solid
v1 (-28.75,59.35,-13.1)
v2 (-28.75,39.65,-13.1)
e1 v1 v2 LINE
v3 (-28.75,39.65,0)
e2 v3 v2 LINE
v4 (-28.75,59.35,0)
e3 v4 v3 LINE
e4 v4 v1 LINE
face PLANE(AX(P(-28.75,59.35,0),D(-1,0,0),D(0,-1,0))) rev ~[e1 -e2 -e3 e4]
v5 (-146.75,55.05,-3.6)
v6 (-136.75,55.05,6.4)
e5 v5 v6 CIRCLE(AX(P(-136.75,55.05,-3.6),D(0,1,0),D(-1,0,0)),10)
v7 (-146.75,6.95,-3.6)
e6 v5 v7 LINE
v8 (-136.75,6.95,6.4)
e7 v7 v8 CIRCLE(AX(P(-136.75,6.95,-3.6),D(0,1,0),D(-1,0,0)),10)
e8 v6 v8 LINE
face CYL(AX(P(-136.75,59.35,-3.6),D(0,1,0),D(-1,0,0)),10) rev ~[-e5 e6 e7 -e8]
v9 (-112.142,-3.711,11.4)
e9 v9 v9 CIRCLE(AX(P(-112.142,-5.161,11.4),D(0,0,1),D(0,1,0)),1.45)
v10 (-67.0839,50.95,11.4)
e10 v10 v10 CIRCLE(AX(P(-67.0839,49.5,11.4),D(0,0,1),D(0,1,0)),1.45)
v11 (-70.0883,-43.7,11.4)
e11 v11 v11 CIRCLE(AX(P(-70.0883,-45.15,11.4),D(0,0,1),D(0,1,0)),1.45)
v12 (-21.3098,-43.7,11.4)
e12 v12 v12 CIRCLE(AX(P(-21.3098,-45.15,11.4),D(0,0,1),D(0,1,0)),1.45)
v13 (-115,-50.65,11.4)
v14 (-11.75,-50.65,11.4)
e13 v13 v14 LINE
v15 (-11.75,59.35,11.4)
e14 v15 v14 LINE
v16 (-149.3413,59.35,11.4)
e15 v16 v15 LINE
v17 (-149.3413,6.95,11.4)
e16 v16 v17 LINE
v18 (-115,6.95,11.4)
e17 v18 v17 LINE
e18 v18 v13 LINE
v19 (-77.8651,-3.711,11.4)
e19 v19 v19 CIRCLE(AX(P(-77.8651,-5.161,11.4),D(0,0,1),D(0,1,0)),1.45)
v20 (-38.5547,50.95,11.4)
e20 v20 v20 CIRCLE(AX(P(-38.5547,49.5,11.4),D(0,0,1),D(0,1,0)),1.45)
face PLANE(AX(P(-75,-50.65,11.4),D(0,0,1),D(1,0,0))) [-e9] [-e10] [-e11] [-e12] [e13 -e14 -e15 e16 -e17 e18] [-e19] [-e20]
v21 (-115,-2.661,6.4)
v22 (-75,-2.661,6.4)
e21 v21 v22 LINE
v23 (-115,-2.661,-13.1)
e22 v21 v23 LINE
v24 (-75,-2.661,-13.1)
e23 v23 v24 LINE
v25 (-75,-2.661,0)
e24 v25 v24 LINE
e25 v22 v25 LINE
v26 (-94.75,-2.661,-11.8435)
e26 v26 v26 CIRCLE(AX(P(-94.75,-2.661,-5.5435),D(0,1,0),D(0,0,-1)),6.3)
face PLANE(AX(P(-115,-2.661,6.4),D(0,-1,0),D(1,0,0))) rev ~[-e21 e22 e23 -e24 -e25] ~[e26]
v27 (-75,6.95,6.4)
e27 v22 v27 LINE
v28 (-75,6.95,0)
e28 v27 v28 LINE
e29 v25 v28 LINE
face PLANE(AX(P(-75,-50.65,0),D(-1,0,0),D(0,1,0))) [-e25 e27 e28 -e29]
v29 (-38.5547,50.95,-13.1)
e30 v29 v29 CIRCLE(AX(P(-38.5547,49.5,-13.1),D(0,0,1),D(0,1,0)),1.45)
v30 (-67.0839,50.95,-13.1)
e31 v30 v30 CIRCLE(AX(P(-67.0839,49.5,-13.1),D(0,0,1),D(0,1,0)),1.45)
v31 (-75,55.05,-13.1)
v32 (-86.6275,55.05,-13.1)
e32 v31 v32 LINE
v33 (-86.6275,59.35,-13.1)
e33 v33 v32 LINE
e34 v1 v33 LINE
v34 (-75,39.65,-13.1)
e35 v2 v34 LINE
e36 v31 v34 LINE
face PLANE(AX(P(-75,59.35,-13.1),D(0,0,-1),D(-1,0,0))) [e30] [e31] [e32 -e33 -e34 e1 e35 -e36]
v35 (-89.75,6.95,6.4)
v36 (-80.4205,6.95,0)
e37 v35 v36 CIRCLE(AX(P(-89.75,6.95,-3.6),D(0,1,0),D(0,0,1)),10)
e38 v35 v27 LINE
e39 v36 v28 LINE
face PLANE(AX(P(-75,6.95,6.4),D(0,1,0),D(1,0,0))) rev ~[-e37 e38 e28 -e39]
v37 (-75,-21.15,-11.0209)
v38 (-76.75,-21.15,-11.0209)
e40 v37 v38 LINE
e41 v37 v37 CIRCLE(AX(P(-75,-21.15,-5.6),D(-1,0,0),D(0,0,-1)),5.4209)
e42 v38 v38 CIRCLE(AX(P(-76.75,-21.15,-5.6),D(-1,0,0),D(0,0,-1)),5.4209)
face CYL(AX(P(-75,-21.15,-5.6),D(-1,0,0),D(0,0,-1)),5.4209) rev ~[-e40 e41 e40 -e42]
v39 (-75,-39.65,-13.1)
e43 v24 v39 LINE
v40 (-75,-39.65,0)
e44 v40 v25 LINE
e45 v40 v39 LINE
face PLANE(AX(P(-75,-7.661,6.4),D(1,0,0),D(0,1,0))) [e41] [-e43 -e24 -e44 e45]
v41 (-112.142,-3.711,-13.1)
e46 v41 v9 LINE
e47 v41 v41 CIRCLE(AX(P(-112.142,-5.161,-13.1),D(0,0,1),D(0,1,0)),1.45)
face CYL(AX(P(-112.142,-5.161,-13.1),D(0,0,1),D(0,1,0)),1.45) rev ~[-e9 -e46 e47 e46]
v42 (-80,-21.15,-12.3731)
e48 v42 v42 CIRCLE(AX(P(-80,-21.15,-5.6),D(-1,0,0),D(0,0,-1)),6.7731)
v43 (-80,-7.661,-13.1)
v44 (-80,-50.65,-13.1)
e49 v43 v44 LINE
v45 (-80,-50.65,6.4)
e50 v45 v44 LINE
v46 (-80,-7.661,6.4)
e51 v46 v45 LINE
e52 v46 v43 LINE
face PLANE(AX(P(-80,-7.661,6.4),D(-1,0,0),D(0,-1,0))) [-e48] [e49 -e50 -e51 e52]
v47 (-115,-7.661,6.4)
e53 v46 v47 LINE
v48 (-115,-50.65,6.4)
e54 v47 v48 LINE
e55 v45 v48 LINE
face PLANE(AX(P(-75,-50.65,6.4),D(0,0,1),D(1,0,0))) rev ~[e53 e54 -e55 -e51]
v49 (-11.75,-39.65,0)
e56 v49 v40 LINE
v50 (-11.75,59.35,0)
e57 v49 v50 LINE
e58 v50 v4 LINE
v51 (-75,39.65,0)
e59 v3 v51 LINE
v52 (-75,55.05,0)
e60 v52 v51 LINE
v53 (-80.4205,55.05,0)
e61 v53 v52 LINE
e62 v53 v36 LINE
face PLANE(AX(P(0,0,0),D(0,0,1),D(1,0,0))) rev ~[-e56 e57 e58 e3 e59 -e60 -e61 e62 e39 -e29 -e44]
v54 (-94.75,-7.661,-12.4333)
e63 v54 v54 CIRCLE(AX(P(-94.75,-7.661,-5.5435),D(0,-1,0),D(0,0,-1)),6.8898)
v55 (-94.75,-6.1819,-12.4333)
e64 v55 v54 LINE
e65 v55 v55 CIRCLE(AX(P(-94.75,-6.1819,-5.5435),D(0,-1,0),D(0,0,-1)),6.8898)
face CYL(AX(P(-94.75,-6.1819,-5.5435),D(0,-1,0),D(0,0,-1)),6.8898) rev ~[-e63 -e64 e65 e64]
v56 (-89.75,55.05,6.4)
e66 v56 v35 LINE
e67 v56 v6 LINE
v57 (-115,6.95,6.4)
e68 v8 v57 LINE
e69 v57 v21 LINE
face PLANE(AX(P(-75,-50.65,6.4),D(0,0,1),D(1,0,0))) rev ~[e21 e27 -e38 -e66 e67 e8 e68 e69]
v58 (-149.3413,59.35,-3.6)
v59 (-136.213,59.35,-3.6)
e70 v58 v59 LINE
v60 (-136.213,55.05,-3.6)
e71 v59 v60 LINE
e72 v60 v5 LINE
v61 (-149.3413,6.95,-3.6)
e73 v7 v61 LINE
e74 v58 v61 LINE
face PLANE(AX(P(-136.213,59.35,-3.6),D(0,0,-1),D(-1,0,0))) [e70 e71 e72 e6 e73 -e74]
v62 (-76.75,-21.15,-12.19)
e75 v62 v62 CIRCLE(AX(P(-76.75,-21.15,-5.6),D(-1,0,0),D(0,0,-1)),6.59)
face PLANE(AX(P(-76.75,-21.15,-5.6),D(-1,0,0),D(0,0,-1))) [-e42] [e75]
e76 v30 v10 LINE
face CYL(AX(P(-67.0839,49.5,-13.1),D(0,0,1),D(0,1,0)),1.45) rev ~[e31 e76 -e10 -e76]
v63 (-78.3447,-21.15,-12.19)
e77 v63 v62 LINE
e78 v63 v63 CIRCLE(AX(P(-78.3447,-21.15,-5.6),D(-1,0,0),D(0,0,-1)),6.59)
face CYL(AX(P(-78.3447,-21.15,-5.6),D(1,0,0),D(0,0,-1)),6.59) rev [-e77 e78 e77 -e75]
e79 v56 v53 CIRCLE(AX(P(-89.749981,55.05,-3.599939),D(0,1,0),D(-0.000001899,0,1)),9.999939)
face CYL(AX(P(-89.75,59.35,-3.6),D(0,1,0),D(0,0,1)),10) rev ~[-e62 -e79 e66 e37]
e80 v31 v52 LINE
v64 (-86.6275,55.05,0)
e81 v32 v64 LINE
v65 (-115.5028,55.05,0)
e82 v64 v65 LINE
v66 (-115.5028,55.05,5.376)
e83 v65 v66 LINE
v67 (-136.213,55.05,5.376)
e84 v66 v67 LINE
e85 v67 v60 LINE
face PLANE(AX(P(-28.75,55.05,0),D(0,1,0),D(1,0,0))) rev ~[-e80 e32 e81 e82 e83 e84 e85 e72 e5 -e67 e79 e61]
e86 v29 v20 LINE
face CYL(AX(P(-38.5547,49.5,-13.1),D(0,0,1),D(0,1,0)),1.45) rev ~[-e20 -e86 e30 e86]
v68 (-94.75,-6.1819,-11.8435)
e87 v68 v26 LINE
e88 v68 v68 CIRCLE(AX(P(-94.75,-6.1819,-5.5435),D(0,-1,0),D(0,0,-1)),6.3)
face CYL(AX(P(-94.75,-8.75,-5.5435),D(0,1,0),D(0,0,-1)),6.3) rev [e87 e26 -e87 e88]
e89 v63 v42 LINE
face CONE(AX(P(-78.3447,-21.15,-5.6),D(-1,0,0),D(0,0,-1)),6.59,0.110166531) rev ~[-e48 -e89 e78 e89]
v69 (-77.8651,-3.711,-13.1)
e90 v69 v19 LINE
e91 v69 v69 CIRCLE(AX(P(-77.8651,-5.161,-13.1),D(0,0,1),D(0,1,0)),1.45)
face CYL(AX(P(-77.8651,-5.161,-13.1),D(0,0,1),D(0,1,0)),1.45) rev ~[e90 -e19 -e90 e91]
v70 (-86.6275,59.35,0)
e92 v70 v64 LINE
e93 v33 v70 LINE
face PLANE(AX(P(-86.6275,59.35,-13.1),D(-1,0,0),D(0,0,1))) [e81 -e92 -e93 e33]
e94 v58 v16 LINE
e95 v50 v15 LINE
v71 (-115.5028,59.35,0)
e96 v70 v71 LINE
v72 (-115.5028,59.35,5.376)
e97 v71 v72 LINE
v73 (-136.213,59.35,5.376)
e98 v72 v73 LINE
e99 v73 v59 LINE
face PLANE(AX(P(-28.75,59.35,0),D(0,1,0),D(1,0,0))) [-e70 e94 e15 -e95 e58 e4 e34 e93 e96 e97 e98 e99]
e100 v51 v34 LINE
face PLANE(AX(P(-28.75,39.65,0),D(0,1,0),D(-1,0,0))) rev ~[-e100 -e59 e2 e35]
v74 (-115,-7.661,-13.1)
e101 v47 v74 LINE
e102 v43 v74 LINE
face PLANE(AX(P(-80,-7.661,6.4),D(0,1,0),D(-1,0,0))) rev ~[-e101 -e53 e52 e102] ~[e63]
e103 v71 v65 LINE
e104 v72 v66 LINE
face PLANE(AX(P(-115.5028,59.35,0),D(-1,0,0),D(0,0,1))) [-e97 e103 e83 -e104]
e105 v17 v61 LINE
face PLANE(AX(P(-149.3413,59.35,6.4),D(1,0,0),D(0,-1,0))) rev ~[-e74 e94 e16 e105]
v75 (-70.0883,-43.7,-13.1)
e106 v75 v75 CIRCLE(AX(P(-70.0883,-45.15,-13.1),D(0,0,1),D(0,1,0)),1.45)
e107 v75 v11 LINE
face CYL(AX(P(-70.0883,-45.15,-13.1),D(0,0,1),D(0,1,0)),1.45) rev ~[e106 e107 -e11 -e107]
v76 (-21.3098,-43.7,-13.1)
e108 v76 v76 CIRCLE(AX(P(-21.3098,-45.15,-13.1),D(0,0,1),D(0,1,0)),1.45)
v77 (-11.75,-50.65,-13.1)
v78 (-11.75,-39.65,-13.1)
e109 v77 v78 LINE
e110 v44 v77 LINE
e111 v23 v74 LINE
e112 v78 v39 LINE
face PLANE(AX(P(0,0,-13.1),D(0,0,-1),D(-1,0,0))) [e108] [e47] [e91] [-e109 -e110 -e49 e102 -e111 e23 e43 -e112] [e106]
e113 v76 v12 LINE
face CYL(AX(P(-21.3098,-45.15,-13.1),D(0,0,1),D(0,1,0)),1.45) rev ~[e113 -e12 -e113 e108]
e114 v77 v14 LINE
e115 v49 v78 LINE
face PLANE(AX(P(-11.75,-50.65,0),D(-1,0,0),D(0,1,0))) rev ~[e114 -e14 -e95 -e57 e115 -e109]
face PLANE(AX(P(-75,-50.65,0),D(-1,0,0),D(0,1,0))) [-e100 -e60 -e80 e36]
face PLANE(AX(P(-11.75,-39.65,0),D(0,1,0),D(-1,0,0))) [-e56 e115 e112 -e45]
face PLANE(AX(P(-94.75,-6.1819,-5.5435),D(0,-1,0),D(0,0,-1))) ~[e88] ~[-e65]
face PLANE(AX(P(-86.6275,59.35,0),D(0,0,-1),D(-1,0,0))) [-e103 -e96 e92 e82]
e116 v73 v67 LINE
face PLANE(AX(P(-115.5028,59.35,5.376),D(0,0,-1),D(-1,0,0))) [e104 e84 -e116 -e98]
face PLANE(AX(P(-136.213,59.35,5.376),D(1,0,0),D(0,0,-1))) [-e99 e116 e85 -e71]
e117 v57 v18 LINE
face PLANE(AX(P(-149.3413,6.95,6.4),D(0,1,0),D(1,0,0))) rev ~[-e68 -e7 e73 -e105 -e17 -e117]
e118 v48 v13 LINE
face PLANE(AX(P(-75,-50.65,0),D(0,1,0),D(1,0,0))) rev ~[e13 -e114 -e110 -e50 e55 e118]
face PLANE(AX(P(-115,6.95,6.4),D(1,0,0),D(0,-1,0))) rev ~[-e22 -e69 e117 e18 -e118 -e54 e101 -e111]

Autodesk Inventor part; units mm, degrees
ref_plane "Work Plane1" through (0, 0, 0) normal (0, 0, 1) x (1, 0, 0)
sketch "Sketch1" plane through (0, 0, 0) normal (0, 0, 1) x (1, 0, 0)
  line L0 (73, -36.65) -> (-73, -36.65) construction
  line L1 (73, 36.65) -> (73, -36.65) construction
  line L2 (-73, 36.65) -> (73, 36.65) construction
  line L3 (-73, -36.65) -> (-73, 36.65) construction
  line L4 (-66.8632, 12.8749) -> (-66.8632, 14.232) construction
  line L5 (-66.8632, 14.232) -> (-61.4969, 10.9795) construction
  line L6 (-61.4969, 10.9795) -> (-57.2382, 10.9795) construction
  line L7 (-57.2382, 10.9795) -> (-57.2382, 9.7003) construction
  line L8 (-57.2382, 9.7003) -> (-61.3643, 9.7003) construction
  line L9 (-61.3643, 9.7003) -> (-66.8632, 6.4478) construction
  line L10 (-66.8632, 6.4478) -> (-66.8632, 7.8674) construction
  line L11 (-66.8632, 7.8674) -> (-62.6279, 10.3477) construction
  line L12 (-62.6279, 10.3477) -> (-66.8632, 12.8749) construction
  spline S0 degree 2 poles (-57.9402, -12.888) (-57.519, -13.3482) (-57.0666, -14.5182) (-57.0666, -15.3995) knots 0 0 0 1 2 2 2 construction
  spline S1 degree 2 poles (-57.0666, -15.3995) (-57.0666, -16.4447) (-57.5034, -17.9111) (-57.8154, -18.5585) knots 0 0 0 1 2 2 2 construction
  line L13 (-57.8154, -18.5585) -> (-59.4221, -18.5585) construction
  line L14 (-59.4221, -18.5585) -> (-59.4221, -18.4649) construction
  spline S2 degree 2 poles (-59.4221, -18.4649) (-58.8294, -17.8331) (-58.1742, -16.2341) (-58.1742, -15.4931) knots 0 0 0 1 2 2 2 construction
  spline S3 degree 2 poles (-58.1742, -15.4931) (-58.1742, -14.4324) (-59.0555, -13.3482) (-59.7809, -13.3482) knots 0 0 0 1 2 2 2 construction
  spline S4 degree 2 poles (-59.7809, -13.3482) (-60.3581, -13.3482) (-61.0757, -13.9176) (-61.2551, -14.5338) knots 0 0 0 1 2 2 2 construction
  spline S5 degree 2 poles (-61.2551, -14.5338) (-61.3799, -14.9784) (-61.5515, -15.7193) (-61.6919, -16.2731) knots 0 0 0 1 2 2 2 construction
  spline S6 degree 2 poles (-61.6919, -16.2731) (-61.8245, -16.7723) (-62.2223, -17.5601) (-62.5421, -17.8643) knots 0 0 0 1 2 2 2 construction
  spline S7 degree 2 poles (-62.5421, -17.8643) (-62.8619, -18.1607) (-63.7199, -18.4883) (-64.2814, -18.4883) knots 0 0 0 1 2 2 2 construction
  spline S8 degree 2 poles (-64.2814, -18.4883) (-65.4514, -18.4883) (-67.0348, -16.6631) (-67.0348, -15.2514) knots 0 0 0 1 2 2 2 construction
  spline S9 degree 2 poles (-67.0348, -15.2514) (-67.0348, -14.4402) (-66.715, -13.005) (-66.4108, -12.3888) knots 0 0 0 1 2 2 2 construction
  line L15 (-66.4108, -12.3888) -> (-64.882, -12.3888) construction
  line L16 (-64.882, -12.3888) -> (-64.882, -12.4824) construction
  spline S10 degree 2 poles (-64.882, -12.4824) (-65.3032, -12.9426) (-65.9272, -14.3778) (-65.9272, -15.1656) knots 0 0 0 1 2 2 2 construction
  spline S11 degree 2 poles (-65.9272, -15.1656) (-65.9272, -16.0547) (-65.0926, -17.1545) (-64.414, -17.1545) knots 0 0 0 1 2 2 2 construction
  spline S12 degree 2 poles (-64.414, -17.1545) (-63.8057, -17.1545) (-63.0803, -16.5071) (-62.9165, -15.8987) knots 0 0 0 1 2 2 2 construction
  spline S13 degree 2 poles (-62.9165, -15.8987) (-62.8073, -15.4931) (-62.5265, -14.3154) (-62.4095, -13.9254) knots 0 0 0 1 2 2 2 construction
  spline S14 degree 2 poles (-62.4095, -13.9254) (-62.1053, -12.9348) (-60.8807, -12.0144) (-59.9837, -12.0144) knots 0 0 0 1 2 2 2 construction
  spline S15 degree 2 poles (-59.9837, -12.0144) (-59.4143, -12.0144) (-58.3224, -12.4746) (-57.9402, -12.888) knots 0 0 0 1 2 2 2 construction
  spline S16 degree 2 poles (-67.066, -7.0069) (-67.066, -6.0241) (-66.3796, -4.4486) (-65.7634, -3.9026) knots 0 0 0 1 2 2 2 construction
  spline S17 degree 2 poles (-65.7634, -3.9026) (-65.1238, -3.3566) (-63.2519, -2.7482) (-62.0507, -2.7482) knots 0 0 0 1 2 2 2 construction
  spline S18 degree 2 poles (-62.0507, -2.7482) (-60.8807, -2.7482) (-58.9854, -3.341) (-58.3458, -3.9026) knots 0 0 0 1 2 2 2 construction
  spline S19 degree 2 poles (-58.3458, -3.9026) (-57.675, -4.4954) (-57.0354, -6.0631) (-57.0354, -7.0069) knots 0 0 0 1 2 2 2 construction
  spline S20 degree 2 poles (-57.0354, -7.0069) (-57.0354, -7.9819) (-57.6984, -9.5419) (-58.3458, -10.1113) knots 0 0 0 1 2 2 2 construction
  spline S21 degree 2 poles (-58.3458, -10.1113) (-58.9854, -10.665) (-60.8651, -11.2578) (-62.0507, -11.2578) knots 0 0 0 1 2 2 2 construction
  spline S22 degree 2 poles (-62.0507, -11.2578) (-63.2597, -11.2578) (-65.1004, -10.6572) (-65.7634, -10.1035) knots 0 0 0 1 2 2 2 construction
  spline S23 degree 2 poles (-65.7634, -10.1035) (-66.403, -9.5419) (-67.066, -7.9741) (-67.066, -7.0069) knots 0 0 0 1 2 2 2 construction
  line L17 (-66.8632, 5.543) -> (-57.2382, 5.543) construction
  line L18 (-57.2382, 5.543) -> (-57.2382, 4.1078) construction
  line L19 (-57.2382, 4.1078) -> (-65.5372, -0.1509) construction
  line L20 (-65.5372, -0.1509) -> (-57.2382, -0.1509) construction
  line L21 (-57.2382, -0.1509) -> (-57.2382, -1.3442) construction
  line L22 (-57.2382, -1.3442) -> (-66.8632, -1.3442) construction
  line L23 (-66.8632, -1.3442) -> (-66.8632, 0.4731) construction
  line L24 (-66.8632, 0.4731) -> (-59.2427, 4.3496) construction
  line L25 (-59.2427, 4.3496) -> (-66.8632, 4.3496) construction
  line L26 (-66.8632, 4.3496) -> (-66.8632, 5.543) construction
  line L27 (-75, -25.3081) -> (-75, -38.65) construction
  line L28 (-75, -38.65) -> (75, -38.65) construction
  line L29 (-75, 38.65) -> (-75, -16.9919) construction
  line L30 (75, 38.65) -> (-75, 38.65) construction
  line L31 (-151.75, -50.65) -> (-11.75, -50.65)
  line L32 (-11.75, -50.65) -> (-11.75, 59.35)
  line L33 (-11.75, 59.35) -> (-151.75, 59.35)
  line L34 (-151.75, 59.35) -> (-151.75, -50.65)
  line L35 (-146.75, 47.05) -> (-146.75, 14.683) construction
  line L36 (-11.75, -50.65) -> (-75, -50.65)
  line L37 (-75, -50.65) -> (-75, 59.35)
  line L38 (-75, 59.35) -> (-11.75, 59.35)
  line L39 (-11.75, 59.35) -> (-11.75, -50.65)
  point P0 (0, 0)
  dimension "d0" = 140
  dimension "d1" = 110
  dimension "d2" = 12
  dimension "d3" = 5
ref_plane "Work Plane2" through (-137.8164, 12.7477, 6.4) normal (0, 0, 1) x (1, 0, 0)
extrude "Extrusion1" add sketch "Sketch1" along normal up to surface (6.4 mm away) contours L37 L33 L32 L31
sketch "Sketch2" plane through (0, 0, 0) normal (0, 0, -1) x (-1, 0, 0)
  line L0 (11.75, -50.65) -> (11.75, 59.35) projected
  line L1 (75, -50.65) -> (11.75, -50.65) projected
  line L2 (75, 59.35) -> (75, -50.65) projected
  line L3 (11.75, 59.35) -> (75, 59.35) projected
  line L4 (75, 38.65) -> (-75, 38.65) projected
  line L5 (75, -38.65) -> (-75, -38.65) projected
  line L6 (75, 59.35) -> (75, -50.65) projected
  line L7 (75, 59.35) -> (28.75, 59.35)
  line L8 (28.75, 59.35) -> (28.75, 39.65)
  line L9 (28.75, 39.65) -> (75, 39.65)
  line L10 (75, 39.65) -> (75, 59.35)
  line L11 (75, -50.65) -> (11.75, -50.65) projected
  line L12 (11.75, -50.65) -> (11.75, 59.35) projected
  line L13 (75, -50.65) -> (11.75, -50.65)
  line L14 (11.75, -50.65) -> (11.75, -39.65)
  line L15 (11.75, -39.65) -> (75, -39.65)
  line L16 (75, -39.65) -> (75, -50.65)
  point P0 (0, 0)
  dimension "d6" = 1
  dimension "d7" = 1
  dimension "d8" = 17
ref_plane "Work Plane3" through (-75.3762, -41.3829, -13.1) normal (0, 0, -1) x (0, 1, 0)
extrude "Extrusion2" add sketch "Sketch2" along normal up to surface (13.1 mm away) contours L0 L15 L2 L1 | L3 L2 L9 L8
sketch "Sketch3" plane through (-75, 59.35, 6.4) normal (0, 1, 0) x (1, 0, 0)
  arc A0 (-14.75, 0) -> (-4.75, 10) centre (-14.75, 10) ccw projected
  arc A1 (-71.75, 10) -> (-61.75, 0) centre (-61.75, 10) ccw projected
  line L0 (-71.75, 10) -> (-74.3413, 10)
  line L1 (-74.3413, 10) -> (-74.3413, 0)
  line L2 (-74.3413, 0) -> (-61.75, 0)
  line L3 (-14.75, 0) -> (0, 0)
  line L4 (0, 0) -> (0, 6.4)
  line L5 (0, 19.5) -> (0, 0) projected
  line L6 (-5.4205, 6.4) -> (0, 6.4)
  point P0 (75, 6.4)
ref_plane "Work Plane4" through (-135.51, 6.95, -15.2395) normal (0, -1, 0) x (1, 0, 0)
extrude "Extrusion3" add sketch "Sketch3" against normal up to surface (52.4 mm away)
sketch "Sketch4" plane through (-75, -50.65, 6.4) normal (0, 0, 1) x (1, 0, 0)
  line L0 (-74.3413, 57.6) -> (-61.75, 57.6) projected
  line L1 (-61.75, 110) -> (-61.75, 57.6) projected
  line L2 (-61.75, 110) -> (-74.3413, 110) projected
  line L3 (-74.3413, 110) -> (-74.3413, 57.6) projected
  line L4 (63.25, 0) -> (0, 0) projected
  line L5 (63.25, 110) -> (63.25, 0) projected
  line L6 (63.25, 110) -> (-14.75, 110) projected
  line L7 (-14.75, 110) -> (-14.75, 57.6) projected
  line L8 (-14.75, 57.6) -> (0, 57.6) projected
  line L9 (0, 0) -> (0, 57.6) projected
  line L10 (-61.75, 110) -> (-61.75, 57.6) projected
  line L11 (-14.75, 57.6) -> (0, 57.6) projected
  line L12 (-61.75, 110) -> (-14.75, 110)
  line L13 (-14.75, 110) -> (-14.75, 57.6)
  line L14 (-14.75, 57.6) -> (-61.75, 57.6)
  line L15 (-61.75, 57.6) -> (-61.75, 110)
  line L16 (0, 57.6) -> (-40, 57.6)
  line L17 (-40, 57.6) -> (-40, 0)
  line L18 (-40, 0) -> (0, 0)
  line L19 (0, 0) -> (0, 57.6)
  point P0 (75, 50.65)
  dimension "d13" = 40
extrude "Extrusion4" add sketch "Sketch4" along normal blind 5
ref_plane "Work Plane5" through (-139.1935, 55.05, -12.427) normal (0, 1, 0) x (0, 0, 1)
sketch "Sketch5" plane through (-28.75, 59.35, 0) normal (0, 1, 0) x (1, 0, 0)
  line L0 (-61, -6.4) -> (-46.25, -6.4) projected
  line L1 (17, 0) -> (17, -11.4) projected
  line L2 (17, 0) -> (0, 0) projected
  line L3 (0, 0) -> (0, 13.1) projected
  line L4 (0, 13.1) -> (-46.25, 13.1) projected
  line L5 (-46.25, 13.1) -> (-46.25, 0) projected
  line L6 (-51.6705, 0) -> (-46.25, 0) projected
  arc A0 (-61, -6.4) -> (-51.6705, 0) centre (-61, 3.6) ccw projected
  line L7 (-61, -6.4) -> (-108, -6.4) projected
  arc A1 (-118, 3.6) -> (-108, -6.4) centre (-108, 3.6) ccw projected
  line L8 (-120.5913, 3.6) -> (-118, 3.6) projected
  line L9 (-120.5913, 3.6) -> (-120.5913, -11.4) projected
  line L10 (17, -11.4) -> (-120.5913, -11.4) projected
  line L11 (-46.25, 13.1) -> (-57.8775, 13.1)
  line L12 (-57.8775, 13.1) -> (-57.8775, 0)
  line L13 (-57.8775, 0) -> (-86.7528, 0)
  line L14 (-86.7528, 0) -> (-86.7528, -5.376)
  line L15 (-86.7528, -5.376) -> (-107.463, -5.376)
  line L16 (-107.463, -5.376) -> (-107.463, 3.6)
  line L17 (-107.463, 3.6) -> (-118, 3.6)
  point P0 (28.75, 0)
extrude "Extrusion5" add sketch "Sketch5" against normal up to surface (4.3 mm away) contours L5 L6 A0 L7 A1 L17 L16 L15 L14 L13 L12 L11
sketch "Sketch6" plane through (-75, -50.65, 6.4) normal (0, 0, -1) x (-1, 0, 0)
  line L0 (61.75, 105.7) -> (14.75, 105.7) projected
  line L1 (14.75, 105.7) -> (14.75, 57.6) projected
  line L2 (14.75, 57.6) -> (0, 57.6) projected
  line L3 (0, 0) -> (0, 57.6) projected
  line L4 (40, 0) -> (0, 0) projected
  line L5 (40, 57.6) -> (40, 0) projected
  line L6 (61.75, 57.6) -> (40, 57.6) projected
  line L7 (61.75, 105.7) -> (61.75, 57.6) projected
  line L8 (40, 57.6) -> (40, 0) projected
  line L9 (40, 47.989) -> (0, 47.989)
  line L10 (0, 47.989) -> (0, 42.989)
  line L11 (0, 42.989) -> (40, 42.989)
  line L12 (40, 42.989) -> (40, 47.989)
  line L13 (40, 0) -> (0, 0) projected
  line L14 (0, 42.989) -> (5, 42.989)
  line L15 (5, 42.989) -> (5, 0)
  line L16 (5, 0) -> (0, 0)
  line L17 (0, 0) -> (0, 42.989)
  point P0 (-75, 50.65)
  dimension "d18" = 5
  dimension "d19" = 5
extrude "Extrusion6" add sketch "Sketch6" along normal up to surface (19.5 mm away) contours L5 L11 L3 L9 | L11 L15 L4 L3
ref_plane "Work Plane6" through (-94.75, 13.95, -5.6) normal (1, 0, 0) x (0, -1, 0)
sketch "Sketch7" plane through (-94.75, 13.95, -5.6) normal (1, 0, 0) x (0, -1, 0)
  line L0 (14.7, 6) -> (30.1, 6)
  line L1 (14.7, -6) -> (30.1, -6)
  line L2 (12.1377, -0.0565) -> (37.0671, -0.0565)
  line L3 (14.7, -0.0565) -> (22.7, -0.0565)
  line L4 (22.7, -0.0565) -> (22.7, 6.2435)
  line L5 (22.7, 6.2435) -> (14.7, 6.2435)
  line L6 (14.7, 6.2435) -> (14.7, -0.0565)
  line L7 (21.611, -12) -> (21.611, 7.5) projected
  line L8 (21.611, -0.0565) -> (20.1319, -0.0565)
  line L9 (20.1319, -0.0565) -> (20.1319, 6.8333)
  line L10 (20.1319, 6.8333) -> (21.611, 6.8333)
  line L11 (21.611, 6.8333) -> (21.611, -0.0565)
  point P0 (13.95, -5.6)
  dimension "d22" = 8
  dimension "d23" = 6.3
revolve "Revolution1" cut sketch "Sketch7" angle 360 about axis through (-94.75, 1.8123, -5.5435) along (0, -1, 0)
ref_plane "Work Plane7" through (-61.9, -21.15, -5.6) normal (0, -1, 0) x (1, 0, 0)
sketch "Sketch8" plane through (-61.9, -21.15, -5.6) normal (0, -1, 0) x (1, 0, 0)
  line L0 (-15.1, -6.34) -> (-15.1, 6.34) construction
  line L1 (-16.3, -6.34) -> (-15.1, -6.34) construction
  arc A0 (-18.2, 0) -> (-16.3, -6.34) centre (-3.4124, 0.9769) ccw construction
  arc A1 (-16.3, 6.34) -> (-18.2, 0) centre (-3.4124, -0.9769) ccw construction
  line L2 (-16.3, 6.34) -> (-15.1, 6.34) construction
  line L3 (-18.1, 12) -> (-18.1, -7.5) construction
  line L4 (-13.1, 5.6) -> (-13.1, -7.5) construction
  line L5 (-18.1, -5.7052) -> (-13.1, -5.7052) construction
  line L6 (-13.1, -5.7052) -> (-13.1, 5.6) construction
  line L7 (-13.1, 5.6) -> (-18.1, 5.6) construction
  line L8 (-18.1, 5.6) -> (-18.1, -5.7052) construction
  line L9 (-22.253, 0) -> (-12.4028, 0) construction
  line L10 (-16.4447, -6.59) -> (-14.85, -6.59)
  line L11 (-14.85, -6.59) -> (-14.85, 6.59)
  line L12 (-14.85, 6.59) -> (-16.4447, 6.59)
  arc A2 (-16.4447, 6.59) -> (-18.4505, 0) centre (-3.4124, -0.9769) ccw
  arc A3 (-18.4505, 0) -> (-16.4447, -6.59) centre (-3.4124, 0.9769) ccw
  line L13 (-14.85, -5.7052) -> (-13.1, -5.7052)
  line L14 (-18.5205, 5.6) -> (-13.1, 5.6) projected
  line L15 (-14.85, 5.6) -> (-13.1, 5.6)
  line L16 (-14.85, 0) -> (-13.1, 0)
  line L17 (-13.1, 0) -> (-13.1, -5.4209)
  line L18 (-13.1, -5.4209) -> (-14.85, -5.4209)
  line L19 (-14.85, -5.4209) -> (-14.85, 0)
  line L20 (-14.85, 0) -> (-18.4505, 0)
  line L21 (-16.4447, -6.59) -> (-18.1, -6.7731)
  line L22 (-18.1, -6.7731) -> (-18.1, -2.3957)
  point P0 (61.9, 5.6)
  dimension "d25" = 0.25
revolve "Revolution2" cut sketch "Sketch8" angle 360 about axis through (-76.75, -21.15, -5.6) along (-1, 0, 0) contours A3 L20 L11 L10 | L21 L22 A3 | L11 L16 L17 L18
sketch "Sketch9" plane through (-28.75, 39.65, -13.1) normal (0, 0, -1) x (-1, 0, 0)
  line L0 (0, 19.7) -> (57.8775, 19.7) projected
  line L1 (0, 0) -> (0, 19.7) projected
  line L2 (46.25, 0) -> (0, 0) projected
  line L3 (46.25, 15.4) -> (46.25, 0) projected
  line L4 (57.8775, 15.4) -> (46.25, 15.4) projected
  line L5 (57.8775, 19.7) -> (57.8775, 15.4) projected
  line L6 (51.25, -90.3) -> (-17, -90.3) projected
  line L7 (51.25, -47.311) -> (51.25, -90.3) projected
  line L8 (86.25, -47.311) -> (51.25, -47.311) projected
  line L9 (86.25, -42.311) -> (86.25, -47.311) projected
  line L10 (46.25, -42.311) -> (86.25, -42.311) projected
  line L11 (46.25, -79.3) -> (46.25, -42.311) projected
  line L12 (-17, -79.3) -> (46.25, -79.3) projected
  line L13 (-17, -90.3) -> (-17, -79.3) projected
  circle A0 centre (-7.4402, -84.8) radius 2.7404
  circle A1 centre (41.3383, -84.8) radius 3.0045
  circle A2 centre (38.3339, 9.85) radius 4.1705
  circle A3 centre (9.8047, 9.85) radius 4.6127
  point P0 (-28.75, -39.65)
  point P1 (49.1151, -44.811)
  point P2 (83.392, -44.811)
hole "Hole1" at (-38.5547, 49.5, -13.1) at (-67.0839, 49.5, -13.1) at (-21.3098, -45.15, -13.1) at (-70.0883, -45.15, -13.1) at (-77.8651, -5.161, -13.1) at (-112.142, -5.161, -13.1) direction (0, 0, 1) diameter 2.9 end through all
properties part number "10_Minispim_Base"
